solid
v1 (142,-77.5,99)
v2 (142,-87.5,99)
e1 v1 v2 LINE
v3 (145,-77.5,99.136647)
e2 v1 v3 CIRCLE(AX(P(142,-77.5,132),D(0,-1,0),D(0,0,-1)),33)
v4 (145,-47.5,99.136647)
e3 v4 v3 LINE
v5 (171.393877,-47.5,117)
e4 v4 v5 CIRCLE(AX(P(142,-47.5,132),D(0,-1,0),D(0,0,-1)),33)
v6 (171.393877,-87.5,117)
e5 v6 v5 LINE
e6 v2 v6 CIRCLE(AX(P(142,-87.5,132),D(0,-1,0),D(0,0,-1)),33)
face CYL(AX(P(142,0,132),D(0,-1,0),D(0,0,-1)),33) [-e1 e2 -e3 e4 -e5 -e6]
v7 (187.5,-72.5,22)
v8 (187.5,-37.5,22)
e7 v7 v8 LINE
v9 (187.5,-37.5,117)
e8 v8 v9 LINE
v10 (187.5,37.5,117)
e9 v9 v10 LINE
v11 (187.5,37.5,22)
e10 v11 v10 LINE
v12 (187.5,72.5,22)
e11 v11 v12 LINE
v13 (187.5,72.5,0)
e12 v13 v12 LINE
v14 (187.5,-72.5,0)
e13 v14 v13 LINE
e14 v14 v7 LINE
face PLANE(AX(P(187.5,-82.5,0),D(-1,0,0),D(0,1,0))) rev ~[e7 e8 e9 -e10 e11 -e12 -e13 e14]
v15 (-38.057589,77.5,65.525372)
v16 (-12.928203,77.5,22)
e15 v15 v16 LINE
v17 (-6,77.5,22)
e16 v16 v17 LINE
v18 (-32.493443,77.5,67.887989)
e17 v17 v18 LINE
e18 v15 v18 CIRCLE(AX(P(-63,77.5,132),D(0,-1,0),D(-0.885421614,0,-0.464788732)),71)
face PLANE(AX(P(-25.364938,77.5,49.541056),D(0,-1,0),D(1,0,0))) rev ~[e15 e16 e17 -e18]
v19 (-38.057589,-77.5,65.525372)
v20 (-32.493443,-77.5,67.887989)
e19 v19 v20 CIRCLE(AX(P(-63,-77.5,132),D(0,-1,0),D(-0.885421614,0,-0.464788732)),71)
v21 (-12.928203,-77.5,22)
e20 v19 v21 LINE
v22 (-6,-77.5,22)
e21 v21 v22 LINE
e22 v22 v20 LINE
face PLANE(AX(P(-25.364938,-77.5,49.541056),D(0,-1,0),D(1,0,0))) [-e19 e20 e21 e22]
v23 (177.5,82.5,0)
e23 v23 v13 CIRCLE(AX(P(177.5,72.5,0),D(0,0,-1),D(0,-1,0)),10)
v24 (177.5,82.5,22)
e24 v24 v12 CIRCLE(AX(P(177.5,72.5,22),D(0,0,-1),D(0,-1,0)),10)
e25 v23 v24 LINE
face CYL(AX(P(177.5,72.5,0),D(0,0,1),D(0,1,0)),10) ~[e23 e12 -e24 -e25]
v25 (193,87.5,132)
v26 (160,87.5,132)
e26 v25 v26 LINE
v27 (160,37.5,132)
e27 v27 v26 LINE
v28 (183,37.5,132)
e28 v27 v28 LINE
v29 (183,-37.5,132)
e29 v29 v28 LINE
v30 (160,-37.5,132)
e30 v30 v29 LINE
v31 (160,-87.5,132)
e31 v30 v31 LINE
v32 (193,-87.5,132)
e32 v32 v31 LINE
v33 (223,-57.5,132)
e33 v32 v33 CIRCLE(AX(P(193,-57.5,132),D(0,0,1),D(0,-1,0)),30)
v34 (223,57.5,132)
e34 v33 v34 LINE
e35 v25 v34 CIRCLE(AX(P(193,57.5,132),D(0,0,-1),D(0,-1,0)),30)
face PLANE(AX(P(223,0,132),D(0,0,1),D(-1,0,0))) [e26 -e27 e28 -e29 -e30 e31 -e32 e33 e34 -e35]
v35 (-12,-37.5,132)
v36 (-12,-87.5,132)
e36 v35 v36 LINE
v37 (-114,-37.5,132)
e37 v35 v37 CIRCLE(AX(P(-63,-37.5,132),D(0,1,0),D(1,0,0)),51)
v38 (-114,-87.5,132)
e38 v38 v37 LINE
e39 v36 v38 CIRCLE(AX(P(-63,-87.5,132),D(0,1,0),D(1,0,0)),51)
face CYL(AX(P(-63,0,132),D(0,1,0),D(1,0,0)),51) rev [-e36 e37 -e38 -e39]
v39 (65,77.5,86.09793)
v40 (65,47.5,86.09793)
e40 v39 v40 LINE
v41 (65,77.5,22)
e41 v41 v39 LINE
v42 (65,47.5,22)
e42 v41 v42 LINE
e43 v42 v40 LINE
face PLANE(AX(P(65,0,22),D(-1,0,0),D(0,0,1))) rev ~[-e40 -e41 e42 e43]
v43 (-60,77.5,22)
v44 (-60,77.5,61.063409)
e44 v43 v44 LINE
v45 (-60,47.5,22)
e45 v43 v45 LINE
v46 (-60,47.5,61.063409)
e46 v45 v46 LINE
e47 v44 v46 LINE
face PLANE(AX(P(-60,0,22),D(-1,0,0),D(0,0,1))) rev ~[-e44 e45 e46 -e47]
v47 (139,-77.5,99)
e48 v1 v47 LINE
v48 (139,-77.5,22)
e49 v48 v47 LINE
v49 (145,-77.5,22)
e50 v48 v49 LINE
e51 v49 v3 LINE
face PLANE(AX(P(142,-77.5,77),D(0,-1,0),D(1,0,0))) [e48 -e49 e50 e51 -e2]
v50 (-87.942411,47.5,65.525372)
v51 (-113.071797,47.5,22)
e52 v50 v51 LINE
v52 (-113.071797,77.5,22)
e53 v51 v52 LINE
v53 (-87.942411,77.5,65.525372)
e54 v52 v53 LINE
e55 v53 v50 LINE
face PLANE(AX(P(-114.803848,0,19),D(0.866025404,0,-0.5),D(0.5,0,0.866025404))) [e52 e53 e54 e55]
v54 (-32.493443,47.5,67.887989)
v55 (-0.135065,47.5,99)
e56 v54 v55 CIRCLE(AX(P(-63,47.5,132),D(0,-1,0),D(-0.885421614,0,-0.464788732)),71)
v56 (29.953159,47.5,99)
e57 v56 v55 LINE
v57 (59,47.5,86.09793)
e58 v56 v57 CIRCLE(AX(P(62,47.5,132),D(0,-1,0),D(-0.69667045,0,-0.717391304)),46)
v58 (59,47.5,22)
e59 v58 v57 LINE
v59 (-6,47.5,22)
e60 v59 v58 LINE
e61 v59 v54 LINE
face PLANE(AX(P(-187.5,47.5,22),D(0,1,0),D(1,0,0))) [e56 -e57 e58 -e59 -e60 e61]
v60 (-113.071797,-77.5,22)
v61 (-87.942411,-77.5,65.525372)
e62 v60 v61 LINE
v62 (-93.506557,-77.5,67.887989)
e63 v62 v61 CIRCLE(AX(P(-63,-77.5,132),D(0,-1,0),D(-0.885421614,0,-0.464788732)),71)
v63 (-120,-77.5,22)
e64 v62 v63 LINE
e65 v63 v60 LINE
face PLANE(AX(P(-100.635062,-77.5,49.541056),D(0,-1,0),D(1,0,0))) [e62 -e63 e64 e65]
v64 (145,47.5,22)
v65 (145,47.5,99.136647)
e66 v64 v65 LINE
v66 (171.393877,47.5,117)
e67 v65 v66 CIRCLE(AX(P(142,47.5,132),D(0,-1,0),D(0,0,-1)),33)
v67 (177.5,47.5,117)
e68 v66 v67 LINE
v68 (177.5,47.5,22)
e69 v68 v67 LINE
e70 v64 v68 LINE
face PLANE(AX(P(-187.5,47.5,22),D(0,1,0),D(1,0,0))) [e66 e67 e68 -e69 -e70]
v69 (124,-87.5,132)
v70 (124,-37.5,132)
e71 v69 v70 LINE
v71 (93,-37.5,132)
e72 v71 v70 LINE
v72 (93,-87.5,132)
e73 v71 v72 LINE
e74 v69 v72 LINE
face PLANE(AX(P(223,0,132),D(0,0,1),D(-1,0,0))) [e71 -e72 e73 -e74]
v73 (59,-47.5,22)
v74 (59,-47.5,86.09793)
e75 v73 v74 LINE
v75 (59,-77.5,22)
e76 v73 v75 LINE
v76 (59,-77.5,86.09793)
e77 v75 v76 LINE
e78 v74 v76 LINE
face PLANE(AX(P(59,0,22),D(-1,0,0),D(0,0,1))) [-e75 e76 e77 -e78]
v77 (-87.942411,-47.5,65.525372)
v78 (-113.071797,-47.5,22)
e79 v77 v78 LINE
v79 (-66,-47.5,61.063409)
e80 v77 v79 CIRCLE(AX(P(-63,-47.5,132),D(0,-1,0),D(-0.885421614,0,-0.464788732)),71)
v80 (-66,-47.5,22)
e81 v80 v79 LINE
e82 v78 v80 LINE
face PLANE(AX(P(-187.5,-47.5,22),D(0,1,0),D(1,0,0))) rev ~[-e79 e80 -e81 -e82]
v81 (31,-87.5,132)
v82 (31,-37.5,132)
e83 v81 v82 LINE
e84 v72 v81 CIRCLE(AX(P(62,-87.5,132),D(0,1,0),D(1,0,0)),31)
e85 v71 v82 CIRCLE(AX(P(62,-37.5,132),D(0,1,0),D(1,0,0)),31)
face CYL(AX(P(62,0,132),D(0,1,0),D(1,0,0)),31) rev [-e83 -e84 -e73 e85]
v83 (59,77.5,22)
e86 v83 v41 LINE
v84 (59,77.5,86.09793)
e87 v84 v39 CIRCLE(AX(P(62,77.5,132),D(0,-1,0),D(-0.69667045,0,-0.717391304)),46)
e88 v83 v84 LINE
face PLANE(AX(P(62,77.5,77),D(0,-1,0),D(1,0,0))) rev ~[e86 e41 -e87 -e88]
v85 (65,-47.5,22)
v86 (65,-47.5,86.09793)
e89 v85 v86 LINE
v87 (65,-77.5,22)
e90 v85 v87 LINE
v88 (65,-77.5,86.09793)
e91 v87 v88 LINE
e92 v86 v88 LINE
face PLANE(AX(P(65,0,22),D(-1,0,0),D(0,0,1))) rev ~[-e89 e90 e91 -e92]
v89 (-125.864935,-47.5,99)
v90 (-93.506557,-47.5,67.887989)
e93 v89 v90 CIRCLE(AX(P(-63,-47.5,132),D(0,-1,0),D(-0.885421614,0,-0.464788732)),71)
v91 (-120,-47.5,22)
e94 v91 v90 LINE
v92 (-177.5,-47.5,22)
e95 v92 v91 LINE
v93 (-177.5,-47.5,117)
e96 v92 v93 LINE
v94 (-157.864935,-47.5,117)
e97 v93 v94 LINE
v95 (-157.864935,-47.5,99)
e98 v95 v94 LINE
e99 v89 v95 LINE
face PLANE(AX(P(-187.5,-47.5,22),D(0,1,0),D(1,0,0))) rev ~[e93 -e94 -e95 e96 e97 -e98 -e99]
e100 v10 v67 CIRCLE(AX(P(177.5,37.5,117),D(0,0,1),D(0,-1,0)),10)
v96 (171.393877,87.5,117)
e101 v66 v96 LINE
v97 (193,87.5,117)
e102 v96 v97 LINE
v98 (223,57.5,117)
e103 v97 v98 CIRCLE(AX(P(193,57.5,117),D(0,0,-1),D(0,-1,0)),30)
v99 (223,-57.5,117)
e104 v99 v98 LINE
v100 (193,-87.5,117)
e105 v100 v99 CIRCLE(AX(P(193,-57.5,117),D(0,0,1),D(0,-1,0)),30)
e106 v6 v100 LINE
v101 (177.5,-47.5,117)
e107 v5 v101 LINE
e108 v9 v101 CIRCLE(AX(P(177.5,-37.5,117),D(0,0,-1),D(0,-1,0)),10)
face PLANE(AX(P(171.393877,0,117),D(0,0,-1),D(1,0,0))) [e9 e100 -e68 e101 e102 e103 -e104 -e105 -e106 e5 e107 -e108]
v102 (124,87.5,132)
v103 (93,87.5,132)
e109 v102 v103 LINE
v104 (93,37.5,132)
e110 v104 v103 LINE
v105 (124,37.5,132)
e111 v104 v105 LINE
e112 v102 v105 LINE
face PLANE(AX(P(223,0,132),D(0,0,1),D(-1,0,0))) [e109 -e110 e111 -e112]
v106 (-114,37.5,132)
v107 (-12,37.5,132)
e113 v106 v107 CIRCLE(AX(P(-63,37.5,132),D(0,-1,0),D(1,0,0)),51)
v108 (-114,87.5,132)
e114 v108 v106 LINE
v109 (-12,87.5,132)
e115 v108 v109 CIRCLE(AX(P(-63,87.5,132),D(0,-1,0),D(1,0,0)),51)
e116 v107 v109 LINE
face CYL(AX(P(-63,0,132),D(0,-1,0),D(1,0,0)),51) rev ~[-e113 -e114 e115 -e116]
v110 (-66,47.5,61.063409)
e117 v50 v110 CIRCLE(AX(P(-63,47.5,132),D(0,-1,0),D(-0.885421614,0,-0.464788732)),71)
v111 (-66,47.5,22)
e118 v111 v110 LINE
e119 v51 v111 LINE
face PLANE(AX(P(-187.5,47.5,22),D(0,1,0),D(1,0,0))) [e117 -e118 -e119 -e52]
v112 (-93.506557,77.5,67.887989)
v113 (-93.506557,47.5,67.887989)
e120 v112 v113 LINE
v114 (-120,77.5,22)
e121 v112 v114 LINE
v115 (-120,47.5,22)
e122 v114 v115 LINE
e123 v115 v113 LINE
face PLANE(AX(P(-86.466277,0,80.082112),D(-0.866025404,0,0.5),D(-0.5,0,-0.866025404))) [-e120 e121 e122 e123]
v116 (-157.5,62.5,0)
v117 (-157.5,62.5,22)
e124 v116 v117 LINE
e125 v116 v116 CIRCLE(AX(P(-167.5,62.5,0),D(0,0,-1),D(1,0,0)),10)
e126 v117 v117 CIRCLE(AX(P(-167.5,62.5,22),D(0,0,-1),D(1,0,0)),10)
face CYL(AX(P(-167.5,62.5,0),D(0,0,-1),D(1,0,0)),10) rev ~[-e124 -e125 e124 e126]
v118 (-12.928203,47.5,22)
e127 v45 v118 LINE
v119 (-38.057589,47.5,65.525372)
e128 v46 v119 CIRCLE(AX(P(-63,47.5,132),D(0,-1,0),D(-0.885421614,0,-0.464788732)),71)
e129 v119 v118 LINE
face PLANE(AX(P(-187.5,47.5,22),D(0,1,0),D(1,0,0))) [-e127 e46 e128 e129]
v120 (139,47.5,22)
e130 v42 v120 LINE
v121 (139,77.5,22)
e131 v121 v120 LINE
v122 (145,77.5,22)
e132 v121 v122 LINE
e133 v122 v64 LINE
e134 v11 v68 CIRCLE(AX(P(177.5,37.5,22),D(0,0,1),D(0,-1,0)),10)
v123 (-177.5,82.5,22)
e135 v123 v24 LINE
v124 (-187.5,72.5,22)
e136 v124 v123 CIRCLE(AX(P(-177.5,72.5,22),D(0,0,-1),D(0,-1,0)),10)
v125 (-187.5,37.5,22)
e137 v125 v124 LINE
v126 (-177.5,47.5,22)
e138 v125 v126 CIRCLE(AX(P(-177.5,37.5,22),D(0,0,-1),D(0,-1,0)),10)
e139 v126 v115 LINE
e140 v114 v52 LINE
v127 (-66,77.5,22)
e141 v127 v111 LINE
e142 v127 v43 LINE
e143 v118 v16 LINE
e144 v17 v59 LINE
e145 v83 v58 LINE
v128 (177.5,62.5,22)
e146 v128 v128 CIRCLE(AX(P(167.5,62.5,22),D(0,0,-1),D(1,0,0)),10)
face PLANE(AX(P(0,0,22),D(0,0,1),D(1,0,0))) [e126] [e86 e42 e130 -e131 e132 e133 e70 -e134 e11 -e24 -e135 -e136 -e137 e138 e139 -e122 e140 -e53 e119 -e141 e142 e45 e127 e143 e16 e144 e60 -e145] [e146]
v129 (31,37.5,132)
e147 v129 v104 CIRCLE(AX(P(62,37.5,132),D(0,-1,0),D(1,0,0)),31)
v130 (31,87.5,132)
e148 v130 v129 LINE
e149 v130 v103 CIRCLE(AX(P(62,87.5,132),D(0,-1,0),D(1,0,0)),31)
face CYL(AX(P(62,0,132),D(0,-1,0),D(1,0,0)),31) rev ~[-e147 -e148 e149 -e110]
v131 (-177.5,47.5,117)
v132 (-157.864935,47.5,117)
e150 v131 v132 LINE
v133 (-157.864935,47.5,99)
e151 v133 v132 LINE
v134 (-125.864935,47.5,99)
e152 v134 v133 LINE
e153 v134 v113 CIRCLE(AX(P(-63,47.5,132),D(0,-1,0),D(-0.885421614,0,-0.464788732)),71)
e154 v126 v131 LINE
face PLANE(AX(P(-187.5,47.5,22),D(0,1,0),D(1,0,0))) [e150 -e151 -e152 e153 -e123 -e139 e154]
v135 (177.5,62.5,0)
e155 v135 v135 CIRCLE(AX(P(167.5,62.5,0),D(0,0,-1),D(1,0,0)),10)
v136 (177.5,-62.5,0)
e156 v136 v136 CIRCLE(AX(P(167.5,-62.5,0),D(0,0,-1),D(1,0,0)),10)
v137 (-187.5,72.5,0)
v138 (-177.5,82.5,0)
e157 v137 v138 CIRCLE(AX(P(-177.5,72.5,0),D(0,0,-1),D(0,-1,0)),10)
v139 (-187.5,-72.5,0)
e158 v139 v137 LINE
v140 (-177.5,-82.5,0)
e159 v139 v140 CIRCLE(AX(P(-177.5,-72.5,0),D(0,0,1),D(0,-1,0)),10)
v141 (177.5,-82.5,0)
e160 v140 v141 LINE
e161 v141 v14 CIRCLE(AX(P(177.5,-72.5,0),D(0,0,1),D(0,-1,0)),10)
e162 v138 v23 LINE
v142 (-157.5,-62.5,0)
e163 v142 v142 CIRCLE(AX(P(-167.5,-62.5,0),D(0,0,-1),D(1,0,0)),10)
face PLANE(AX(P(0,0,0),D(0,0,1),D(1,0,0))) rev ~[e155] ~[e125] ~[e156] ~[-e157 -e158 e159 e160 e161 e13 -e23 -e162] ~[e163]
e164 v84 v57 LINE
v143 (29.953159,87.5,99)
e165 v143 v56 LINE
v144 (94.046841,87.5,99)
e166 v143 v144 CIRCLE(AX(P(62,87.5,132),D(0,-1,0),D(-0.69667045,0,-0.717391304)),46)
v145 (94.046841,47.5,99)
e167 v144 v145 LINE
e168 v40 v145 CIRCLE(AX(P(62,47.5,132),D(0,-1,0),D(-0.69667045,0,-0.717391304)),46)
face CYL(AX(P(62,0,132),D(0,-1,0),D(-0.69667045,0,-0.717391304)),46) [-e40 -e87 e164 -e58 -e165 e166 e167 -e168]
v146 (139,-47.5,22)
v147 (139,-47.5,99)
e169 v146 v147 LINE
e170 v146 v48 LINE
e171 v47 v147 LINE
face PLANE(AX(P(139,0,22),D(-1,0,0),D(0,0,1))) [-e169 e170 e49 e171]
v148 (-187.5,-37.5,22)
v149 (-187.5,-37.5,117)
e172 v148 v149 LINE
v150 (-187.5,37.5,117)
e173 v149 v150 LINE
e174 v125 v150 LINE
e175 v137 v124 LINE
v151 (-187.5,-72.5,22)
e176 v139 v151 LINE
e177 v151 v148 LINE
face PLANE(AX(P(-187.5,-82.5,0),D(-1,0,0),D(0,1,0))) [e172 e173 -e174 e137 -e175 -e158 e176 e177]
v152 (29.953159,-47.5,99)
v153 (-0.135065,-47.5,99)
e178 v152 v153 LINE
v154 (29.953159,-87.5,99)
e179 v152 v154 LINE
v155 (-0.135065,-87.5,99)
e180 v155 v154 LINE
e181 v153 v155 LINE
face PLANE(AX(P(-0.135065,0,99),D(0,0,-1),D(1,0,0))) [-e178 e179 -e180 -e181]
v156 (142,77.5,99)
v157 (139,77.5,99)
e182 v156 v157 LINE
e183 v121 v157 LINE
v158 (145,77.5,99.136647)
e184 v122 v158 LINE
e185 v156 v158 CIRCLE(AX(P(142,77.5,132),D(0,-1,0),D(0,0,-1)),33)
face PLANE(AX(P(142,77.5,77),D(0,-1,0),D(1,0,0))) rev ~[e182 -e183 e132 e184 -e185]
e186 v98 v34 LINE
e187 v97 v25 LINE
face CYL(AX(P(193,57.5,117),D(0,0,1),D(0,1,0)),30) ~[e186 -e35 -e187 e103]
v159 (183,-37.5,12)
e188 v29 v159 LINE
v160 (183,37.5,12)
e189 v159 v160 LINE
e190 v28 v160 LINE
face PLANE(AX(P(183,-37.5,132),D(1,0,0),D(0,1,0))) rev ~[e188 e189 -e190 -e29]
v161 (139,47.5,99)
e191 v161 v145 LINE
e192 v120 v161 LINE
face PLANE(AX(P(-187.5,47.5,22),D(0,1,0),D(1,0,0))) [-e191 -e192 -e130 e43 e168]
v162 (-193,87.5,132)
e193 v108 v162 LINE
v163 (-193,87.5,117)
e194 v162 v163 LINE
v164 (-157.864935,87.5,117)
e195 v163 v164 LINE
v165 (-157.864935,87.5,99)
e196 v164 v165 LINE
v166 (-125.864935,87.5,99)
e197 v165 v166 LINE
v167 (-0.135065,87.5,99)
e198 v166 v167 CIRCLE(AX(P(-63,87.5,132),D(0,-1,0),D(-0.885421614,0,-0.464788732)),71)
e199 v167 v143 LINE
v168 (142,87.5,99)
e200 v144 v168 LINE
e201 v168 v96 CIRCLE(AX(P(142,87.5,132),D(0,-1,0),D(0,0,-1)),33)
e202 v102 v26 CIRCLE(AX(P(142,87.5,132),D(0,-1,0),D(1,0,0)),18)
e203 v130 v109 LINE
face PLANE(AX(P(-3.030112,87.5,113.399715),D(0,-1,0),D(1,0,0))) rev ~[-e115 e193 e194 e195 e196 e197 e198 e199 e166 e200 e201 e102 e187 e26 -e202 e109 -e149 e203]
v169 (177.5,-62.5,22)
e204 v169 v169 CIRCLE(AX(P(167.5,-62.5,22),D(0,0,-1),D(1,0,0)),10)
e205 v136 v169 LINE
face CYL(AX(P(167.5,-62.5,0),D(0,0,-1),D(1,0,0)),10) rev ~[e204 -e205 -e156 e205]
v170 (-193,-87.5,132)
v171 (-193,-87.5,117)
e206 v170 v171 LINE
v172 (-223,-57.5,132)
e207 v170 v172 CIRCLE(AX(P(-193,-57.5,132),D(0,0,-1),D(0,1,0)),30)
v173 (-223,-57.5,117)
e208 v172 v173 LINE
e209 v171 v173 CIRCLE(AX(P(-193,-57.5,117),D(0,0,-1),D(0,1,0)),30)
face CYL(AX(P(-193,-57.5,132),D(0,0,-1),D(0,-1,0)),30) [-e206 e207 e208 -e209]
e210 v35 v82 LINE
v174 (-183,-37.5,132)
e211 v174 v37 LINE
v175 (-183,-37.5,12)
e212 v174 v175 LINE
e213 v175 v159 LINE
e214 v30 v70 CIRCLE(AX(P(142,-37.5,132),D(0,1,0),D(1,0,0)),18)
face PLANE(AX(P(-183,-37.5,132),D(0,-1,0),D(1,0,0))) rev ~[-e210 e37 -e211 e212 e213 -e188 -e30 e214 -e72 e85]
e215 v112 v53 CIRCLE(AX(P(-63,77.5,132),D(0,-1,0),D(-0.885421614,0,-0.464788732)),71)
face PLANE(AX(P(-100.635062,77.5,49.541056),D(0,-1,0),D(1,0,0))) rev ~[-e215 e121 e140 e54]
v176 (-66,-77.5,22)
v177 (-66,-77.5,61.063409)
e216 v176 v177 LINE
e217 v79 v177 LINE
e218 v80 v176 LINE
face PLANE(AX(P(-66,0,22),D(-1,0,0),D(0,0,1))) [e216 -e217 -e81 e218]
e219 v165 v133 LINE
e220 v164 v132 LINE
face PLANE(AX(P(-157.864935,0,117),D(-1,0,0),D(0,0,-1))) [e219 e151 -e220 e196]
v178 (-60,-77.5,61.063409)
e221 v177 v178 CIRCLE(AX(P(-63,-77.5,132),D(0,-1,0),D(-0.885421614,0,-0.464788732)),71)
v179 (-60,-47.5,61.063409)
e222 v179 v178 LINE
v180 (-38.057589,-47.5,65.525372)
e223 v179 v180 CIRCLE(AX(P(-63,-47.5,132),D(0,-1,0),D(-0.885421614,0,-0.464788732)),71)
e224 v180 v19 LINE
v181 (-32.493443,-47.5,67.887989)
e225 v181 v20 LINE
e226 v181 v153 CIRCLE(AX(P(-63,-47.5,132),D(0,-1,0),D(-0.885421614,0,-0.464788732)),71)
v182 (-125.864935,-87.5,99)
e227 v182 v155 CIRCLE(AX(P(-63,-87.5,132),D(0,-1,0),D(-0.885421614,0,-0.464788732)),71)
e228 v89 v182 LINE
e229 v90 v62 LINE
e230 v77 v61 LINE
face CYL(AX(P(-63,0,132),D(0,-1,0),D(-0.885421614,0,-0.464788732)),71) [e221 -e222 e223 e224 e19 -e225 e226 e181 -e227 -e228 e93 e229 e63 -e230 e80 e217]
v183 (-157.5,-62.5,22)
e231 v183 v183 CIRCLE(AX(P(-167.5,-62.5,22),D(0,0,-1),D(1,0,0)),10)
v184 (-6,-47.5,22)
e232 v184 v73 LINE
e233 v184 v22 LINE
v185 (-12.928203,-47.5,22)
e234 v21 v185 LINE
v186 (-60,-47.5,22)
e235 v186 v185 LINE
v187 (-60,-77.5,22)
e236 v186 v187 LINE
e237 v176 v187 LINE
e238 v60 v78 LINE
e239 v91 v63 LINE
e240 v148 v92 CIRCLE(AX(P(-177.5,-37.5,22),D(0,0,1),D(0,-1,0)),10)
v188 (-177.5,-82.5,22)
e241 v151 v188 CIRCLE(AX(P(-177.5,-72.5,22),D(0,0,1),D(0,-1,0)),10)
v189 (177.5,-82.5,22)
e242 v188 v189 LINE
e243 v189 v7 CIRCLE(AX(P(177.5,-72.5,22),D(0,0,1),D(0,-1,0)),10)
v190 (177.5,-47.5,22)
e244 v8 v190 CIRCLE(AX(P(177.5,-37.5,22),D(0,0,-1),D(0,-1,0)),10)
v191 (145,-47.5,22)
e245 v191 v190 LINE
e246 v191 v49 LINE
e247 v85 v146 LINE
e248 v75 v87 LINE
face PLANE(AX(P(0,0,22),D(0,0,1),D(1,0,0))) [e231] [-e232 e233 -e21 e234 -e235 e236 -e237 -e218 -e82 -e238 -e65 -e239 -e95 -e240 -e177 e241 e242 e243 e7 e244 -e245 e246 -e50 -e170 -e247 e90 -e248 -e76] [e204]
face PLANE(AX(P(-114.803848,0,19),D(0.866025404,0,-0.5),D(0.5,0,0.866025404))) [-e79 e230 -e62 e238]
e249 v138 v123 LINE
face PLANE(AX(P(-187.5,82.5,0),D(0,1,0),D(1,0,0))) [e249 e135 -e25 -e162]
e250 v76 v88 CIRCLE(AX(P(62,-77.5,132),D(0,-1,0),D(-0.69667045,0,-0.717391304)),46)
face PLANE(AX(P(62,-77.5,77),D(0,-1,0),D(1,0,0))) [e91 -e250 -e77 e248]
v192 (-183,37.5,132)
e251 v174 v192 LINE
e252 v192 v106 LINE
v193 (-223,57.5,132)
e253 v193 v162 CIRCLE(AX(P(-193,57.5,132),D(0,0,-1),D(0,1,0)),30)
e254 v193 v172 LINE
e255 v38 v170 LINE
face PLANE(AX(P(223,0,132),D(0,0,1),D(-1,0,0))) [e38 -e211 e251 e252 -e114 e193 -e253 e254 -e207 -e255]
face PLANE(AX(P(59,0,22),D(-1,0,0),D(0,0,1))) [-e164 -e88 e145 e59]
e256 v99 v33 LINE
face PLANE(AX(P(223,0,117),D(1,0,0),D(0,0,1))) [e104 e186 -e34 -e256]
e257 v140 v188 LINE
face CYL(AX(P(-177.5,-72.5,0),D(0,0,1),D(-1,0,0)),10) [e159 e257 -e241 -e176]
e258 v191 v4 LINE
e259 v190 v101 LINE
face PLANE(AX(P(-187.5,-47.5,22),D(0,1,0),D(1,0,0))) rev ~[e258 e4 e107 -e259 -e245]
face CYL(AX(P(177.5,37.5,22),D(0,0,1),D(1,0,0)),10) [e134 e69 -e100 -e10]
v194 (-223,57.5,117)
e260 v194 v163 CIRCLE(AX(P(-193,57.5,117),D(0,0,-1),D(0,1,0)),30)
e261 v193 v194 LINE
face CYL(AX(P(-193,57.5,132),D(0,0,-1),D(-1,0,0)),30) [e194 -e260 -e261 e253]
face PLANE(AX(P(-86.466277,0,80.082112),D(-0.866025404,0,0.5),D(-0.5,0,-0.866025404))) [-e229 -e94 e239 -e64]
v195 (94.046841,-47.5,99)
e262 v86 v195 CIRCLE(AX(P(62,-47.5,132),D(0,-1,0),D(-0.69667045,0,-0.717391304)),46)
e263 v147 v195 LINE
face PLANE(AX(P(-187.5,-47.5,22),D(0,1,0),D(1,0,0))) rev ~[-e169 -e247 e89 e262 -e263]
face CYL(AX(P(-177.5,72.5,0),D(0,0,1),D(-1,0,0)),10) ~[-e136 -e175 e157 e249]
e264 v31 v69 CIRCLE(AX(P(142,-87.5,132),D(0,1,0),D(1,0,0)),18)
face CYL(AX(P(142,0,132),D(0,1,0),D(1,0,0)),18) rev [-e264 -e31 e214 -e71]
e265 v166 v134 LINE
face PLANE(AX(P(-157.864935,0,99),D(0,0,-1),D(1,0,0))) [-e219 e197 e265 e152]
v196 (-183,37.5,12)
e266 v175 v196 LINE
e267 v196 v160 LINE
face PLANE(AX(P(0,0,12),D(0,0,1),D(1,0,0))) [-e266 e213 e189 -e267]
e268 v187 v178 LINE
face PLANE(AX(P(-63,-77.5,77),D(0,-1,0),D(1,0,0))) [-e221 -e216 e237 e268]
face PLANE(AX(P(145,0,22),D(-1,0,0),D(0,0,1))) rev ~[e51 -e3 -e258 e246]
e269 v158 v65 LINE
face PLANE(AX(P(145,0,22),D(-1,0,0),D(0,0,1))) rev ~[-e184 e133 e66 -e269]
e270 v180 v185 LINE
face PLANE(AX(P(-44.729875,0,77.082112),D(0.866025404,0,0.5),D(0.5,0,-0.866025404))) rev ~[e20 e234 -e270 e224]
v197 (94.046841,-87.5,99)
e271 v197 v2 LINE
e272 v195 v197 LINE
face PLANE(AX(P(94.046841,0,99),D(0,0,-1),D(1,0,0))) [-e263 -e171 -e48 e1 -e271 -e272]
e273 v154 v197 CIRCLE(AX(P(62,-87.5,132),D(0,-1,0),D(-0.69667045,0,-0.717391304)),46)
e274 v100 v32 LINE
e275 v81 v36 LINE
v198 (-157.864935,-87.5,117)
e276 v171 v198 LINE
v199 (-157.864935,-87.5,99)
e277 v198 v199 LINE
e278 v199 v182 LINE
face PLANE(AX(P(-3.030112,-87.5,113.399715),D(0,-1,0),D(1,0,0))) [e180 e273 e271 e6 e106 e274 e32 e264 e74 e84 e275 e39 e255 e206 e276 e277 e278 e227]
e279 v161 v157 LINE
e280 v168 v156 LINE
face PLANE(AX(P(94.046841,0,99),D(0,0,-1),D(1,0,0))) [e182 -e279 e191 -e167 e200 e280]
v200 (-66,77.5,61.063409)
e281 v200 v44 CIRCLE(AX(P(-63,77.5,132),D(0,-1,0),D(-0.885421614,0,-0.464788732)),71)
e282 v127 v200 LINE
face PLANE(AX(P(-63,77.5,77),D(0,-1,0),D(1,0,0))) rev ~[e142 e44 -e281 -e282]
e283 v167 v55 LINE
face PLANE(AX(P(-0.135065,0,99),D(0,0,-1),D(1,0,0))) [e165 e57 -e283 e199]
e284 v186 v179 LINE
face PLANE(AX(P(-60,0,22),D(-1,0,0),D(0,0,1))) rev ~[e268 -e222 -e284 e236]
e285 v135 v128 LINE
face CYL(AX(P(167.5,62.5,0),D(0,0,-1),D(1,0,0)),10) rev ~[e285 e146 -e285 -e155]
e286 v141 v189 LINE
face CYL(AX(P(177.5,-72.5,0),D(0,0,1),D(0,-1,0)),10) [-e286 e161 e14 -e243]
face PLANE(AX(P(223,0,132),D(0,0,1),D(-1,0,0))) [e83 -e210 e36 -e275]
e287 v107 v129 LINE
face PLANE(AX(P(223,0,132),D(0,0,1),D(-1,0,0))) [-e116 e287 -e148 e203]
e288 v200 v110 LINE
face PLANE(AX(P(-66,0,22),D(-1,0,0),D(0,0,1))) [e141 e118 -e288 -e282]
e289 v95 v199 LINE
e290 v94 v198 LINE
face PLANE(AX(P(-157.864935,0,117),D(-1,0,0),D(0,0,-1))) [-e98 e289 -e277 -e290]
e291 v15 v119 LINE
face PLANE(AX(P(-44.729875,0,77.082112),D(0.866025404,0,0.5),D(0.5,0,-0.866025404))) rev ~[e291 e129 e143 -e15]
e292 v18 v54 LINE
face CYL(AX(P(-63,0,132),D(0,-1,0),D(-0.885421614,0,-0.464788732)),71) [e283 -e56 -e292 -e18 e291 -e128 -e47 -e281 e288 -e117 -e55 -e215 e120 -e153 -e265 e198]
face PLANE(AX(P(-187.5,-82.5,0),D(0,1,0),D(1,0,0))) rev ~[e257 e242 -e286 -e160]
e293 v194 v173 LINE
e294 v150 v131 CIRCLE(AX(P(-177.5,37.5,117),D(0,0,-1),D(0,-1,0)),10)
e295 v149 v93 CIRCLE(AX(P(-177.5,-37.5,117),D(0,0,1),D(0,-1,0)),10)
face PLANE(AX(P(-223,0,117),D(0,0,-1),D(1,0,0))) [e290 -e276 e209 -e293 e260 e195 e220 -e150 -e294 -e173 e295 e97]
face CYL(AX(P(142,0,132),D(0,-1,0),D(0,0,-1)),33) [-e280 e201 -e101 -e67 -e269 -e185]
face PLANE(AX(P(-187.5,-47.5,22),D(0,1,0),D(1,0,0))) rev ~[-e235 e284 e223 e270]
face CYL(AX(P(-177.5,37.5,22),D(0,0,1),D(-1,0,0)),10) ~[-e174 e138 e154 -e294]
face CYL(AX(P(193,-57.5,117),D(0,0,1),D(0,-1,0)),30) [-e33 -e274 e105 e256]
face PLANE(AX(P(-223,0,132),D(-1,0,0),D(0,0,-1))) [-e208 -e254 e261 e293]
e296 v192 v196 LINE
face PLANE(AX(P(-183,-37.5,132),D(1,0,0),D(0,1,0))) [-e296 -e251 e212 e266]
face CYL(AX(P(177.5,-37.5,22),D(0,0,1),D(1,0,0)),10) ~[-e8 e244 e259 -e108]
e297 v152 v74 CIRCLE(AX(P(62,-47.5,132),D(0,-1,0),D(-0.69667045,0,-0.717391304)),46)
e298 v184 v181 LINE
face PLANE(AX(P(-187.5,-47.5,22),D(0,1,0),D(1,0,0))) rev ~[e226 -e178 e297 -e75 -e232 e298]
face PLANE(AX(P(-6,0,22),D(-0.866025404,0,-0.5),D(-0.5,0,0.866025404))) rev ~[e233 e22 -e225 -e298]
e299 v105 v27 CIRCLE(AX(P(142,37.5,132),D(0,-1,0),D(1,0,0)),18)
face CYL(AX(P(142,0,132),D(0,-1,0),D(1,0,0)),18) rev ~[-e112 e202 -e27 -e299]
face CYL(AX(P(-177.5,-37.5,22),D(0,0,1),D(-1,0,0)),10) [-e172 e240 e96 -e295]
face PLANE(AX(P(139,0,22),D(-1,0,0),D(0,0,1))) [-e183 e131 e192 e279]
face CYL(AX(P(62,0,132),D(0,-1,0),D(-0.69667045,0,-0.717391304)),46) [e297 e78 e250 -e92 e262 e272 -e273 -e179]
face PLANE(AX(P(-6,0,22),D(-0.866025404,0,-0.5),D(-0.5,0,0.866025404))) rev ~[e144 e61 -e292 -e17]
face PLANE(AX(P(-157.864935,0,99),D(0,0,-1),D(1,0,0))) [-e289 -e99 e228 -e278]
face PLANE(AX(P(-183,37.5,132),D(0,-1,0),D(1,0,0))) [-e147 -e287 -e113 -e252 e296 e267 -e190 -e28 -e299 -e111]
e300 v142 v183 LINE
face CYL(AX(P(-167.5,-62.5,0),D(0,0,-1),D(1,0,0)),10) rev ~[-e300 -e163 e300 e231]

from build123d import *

# Parameters (mm, degrees)
F0_W           = 375
F0_H           = 165
F1_DEPTH       = 22
F2_W           = 375
F2_H           = 95
F3_DEPTH       = 95
F4_R           = 10
F6_DEPTH       = 87.5
F7_W           = 6
F7_H           = 110
F8_DEPTH       = 77.5
F9_R           = 30
F10_R          = 51
F10_R_2        = 31
F10_R_3        = 18
F11_DEPTH      = 87.501
F11_DEPTH_BACK = 87.501
F12_W          = 366
F12_H          = 75
F13_DEPTH      = 120
F14_R          = 10
F15_DEPTH      = 25


with BuildPart() as f1:
    # F0 (on Top) → F1 (new body)
    with BuildSketch(Plane.XY):
        Rectangle(F0_W, F0_H)
    extrude(amount=F1_DEPTH)

    # F2 (on face) → F3 (join)
    with BuildSketch(Plane.XY.offset(22)):
        Rectangle(F2_W, F2_H)
    extrude(amount=F3_DEPTH)

    # F4
    f4_edges = [f1.edges().sort_by_distance(p)[0] for p in [
        (-187.5, -82.5, 11),
        (187.5, -82.5, 11),
        (187.5, 82.5, 11),
        (187.5, 47.5, 69.5),
        (187.5, -47.5, 69.5),
        (-187.5, -47.5, 69.5),
        (-187.5, 47.5, 69.5),
        (-187.5, 82.5, 11),
    ]]
    fillet(f4_edges, radius=F4_R)

    # F5 (on Front) → F6 (join, symmetric)
    with BuildSketch(Plane.XZ):
        with BuildLine():
            Line((223, 132), (-223, 132))
            Line((-223, 132), (-223, 117))
            Line((-223, 117), (-157.864934582, 117))
            Line((-157.864934582, 117), (-157.864934582, 99))
            Line((-157.864934582, 99), (-125.864934582, 99))
            ThreePointArc((-125.864934582, 99), (-63, 61), (-0.135065418, 99))
            Line((-0.135065418, 99), (29.9531592821, 99))
            ThreePointArc((29.9531592821, 99), (62, 86), (94.0468407179, 99))
            Line((94.0468407179, 99), (142, 99))
            ThreePointArc((142, 99), (159.2336879396, 103.8575054411), (171.3938769134, 117))
            Line((171.3938769134, 117), (223, 117))
            Line((223, 117), (223, 132))
        make_face()
    extrude(amount=F6_DEPTH, both=True)

    # F7 (on Front) → F8 (join, symmetric)
    with BuildSketch(Plane.XZ):
        with Locations((-63, 77)):
            Rectangle(F7_W, F7_H)
        with Locations((62, 77)):
            Rectangle(F7_W, F7_H)
        with Locations((142, 77)):
            Rectangle(F7_W, F7_H)
        Polygon((-44.7298753819, 77.0821119323), (-11.1961524227, 19), (-6, 22), (-39.5337229592, 80.0821119323), align=None)
        Polygon((-86.4662770408, 80.0821119323), (-120, 22), (-114.8038475773, 19), (-81.2701246181, 77.0821119323), align=None)
    extrude(amount=F8_DEPTH, both=True)

    # F9
    f9_edges = [f1.edges().sort_by_distance(p)[0] for p in [
        (223, -87.5, 124.5),
        (223, 87.5, 124.5),
        (-223, 87.5, 124.5),
        (-223, -87.5, 124.5),
    ]]
    fillet(f9_edges, radius=F9_R)

    # F10 (on Front) → F11 (cut, two sides)
    with BuildSketch(Plane.XZ) as f11_sk:
        with Locations((-63, 132)):
            Circle(F10_R)
        with Locations((62, 132)):
            Circle(F10_R_2)
        with Locations((142, 132)):
            Circle(F10_R_3)
    extrude(amount=-F11_DEPTH, mode=Mode.SUBTRACT)
    extrude(f11_sk.sketch, amount=F11_DEPTH_BACK, mode=Mode.SUBTRACT)

    # F12 (on face) → F13 (cut)
    with BuildSketch(Plane.XY.offset(132)):
        Rectangle(F12_W, F12_H)
    extrude(amount=-F13_DEPTH, mode=Mode.SUBTRACT)

    # F14 (on face) → F15 (cut)
    with BuildSketch(Plane(origin=(0, 0, 0), x_dir=(1, 0, 0), z_dir=(0, 0, -1))):
        with Locations((-167.5, 62.5)):
            Circle(F14_R)
        with Locations((-167.5, -62.5)):
            Circle(F14_R)
        with Locations((167.5, -62.5)):
            Circle(F14_R)
        with Locations((167.5, 62.5)):
            Circle(F14_R)
    extrude(amount=-F15_DEPTH, mode=Mode.SUBTRACT)


solid = f1.part
